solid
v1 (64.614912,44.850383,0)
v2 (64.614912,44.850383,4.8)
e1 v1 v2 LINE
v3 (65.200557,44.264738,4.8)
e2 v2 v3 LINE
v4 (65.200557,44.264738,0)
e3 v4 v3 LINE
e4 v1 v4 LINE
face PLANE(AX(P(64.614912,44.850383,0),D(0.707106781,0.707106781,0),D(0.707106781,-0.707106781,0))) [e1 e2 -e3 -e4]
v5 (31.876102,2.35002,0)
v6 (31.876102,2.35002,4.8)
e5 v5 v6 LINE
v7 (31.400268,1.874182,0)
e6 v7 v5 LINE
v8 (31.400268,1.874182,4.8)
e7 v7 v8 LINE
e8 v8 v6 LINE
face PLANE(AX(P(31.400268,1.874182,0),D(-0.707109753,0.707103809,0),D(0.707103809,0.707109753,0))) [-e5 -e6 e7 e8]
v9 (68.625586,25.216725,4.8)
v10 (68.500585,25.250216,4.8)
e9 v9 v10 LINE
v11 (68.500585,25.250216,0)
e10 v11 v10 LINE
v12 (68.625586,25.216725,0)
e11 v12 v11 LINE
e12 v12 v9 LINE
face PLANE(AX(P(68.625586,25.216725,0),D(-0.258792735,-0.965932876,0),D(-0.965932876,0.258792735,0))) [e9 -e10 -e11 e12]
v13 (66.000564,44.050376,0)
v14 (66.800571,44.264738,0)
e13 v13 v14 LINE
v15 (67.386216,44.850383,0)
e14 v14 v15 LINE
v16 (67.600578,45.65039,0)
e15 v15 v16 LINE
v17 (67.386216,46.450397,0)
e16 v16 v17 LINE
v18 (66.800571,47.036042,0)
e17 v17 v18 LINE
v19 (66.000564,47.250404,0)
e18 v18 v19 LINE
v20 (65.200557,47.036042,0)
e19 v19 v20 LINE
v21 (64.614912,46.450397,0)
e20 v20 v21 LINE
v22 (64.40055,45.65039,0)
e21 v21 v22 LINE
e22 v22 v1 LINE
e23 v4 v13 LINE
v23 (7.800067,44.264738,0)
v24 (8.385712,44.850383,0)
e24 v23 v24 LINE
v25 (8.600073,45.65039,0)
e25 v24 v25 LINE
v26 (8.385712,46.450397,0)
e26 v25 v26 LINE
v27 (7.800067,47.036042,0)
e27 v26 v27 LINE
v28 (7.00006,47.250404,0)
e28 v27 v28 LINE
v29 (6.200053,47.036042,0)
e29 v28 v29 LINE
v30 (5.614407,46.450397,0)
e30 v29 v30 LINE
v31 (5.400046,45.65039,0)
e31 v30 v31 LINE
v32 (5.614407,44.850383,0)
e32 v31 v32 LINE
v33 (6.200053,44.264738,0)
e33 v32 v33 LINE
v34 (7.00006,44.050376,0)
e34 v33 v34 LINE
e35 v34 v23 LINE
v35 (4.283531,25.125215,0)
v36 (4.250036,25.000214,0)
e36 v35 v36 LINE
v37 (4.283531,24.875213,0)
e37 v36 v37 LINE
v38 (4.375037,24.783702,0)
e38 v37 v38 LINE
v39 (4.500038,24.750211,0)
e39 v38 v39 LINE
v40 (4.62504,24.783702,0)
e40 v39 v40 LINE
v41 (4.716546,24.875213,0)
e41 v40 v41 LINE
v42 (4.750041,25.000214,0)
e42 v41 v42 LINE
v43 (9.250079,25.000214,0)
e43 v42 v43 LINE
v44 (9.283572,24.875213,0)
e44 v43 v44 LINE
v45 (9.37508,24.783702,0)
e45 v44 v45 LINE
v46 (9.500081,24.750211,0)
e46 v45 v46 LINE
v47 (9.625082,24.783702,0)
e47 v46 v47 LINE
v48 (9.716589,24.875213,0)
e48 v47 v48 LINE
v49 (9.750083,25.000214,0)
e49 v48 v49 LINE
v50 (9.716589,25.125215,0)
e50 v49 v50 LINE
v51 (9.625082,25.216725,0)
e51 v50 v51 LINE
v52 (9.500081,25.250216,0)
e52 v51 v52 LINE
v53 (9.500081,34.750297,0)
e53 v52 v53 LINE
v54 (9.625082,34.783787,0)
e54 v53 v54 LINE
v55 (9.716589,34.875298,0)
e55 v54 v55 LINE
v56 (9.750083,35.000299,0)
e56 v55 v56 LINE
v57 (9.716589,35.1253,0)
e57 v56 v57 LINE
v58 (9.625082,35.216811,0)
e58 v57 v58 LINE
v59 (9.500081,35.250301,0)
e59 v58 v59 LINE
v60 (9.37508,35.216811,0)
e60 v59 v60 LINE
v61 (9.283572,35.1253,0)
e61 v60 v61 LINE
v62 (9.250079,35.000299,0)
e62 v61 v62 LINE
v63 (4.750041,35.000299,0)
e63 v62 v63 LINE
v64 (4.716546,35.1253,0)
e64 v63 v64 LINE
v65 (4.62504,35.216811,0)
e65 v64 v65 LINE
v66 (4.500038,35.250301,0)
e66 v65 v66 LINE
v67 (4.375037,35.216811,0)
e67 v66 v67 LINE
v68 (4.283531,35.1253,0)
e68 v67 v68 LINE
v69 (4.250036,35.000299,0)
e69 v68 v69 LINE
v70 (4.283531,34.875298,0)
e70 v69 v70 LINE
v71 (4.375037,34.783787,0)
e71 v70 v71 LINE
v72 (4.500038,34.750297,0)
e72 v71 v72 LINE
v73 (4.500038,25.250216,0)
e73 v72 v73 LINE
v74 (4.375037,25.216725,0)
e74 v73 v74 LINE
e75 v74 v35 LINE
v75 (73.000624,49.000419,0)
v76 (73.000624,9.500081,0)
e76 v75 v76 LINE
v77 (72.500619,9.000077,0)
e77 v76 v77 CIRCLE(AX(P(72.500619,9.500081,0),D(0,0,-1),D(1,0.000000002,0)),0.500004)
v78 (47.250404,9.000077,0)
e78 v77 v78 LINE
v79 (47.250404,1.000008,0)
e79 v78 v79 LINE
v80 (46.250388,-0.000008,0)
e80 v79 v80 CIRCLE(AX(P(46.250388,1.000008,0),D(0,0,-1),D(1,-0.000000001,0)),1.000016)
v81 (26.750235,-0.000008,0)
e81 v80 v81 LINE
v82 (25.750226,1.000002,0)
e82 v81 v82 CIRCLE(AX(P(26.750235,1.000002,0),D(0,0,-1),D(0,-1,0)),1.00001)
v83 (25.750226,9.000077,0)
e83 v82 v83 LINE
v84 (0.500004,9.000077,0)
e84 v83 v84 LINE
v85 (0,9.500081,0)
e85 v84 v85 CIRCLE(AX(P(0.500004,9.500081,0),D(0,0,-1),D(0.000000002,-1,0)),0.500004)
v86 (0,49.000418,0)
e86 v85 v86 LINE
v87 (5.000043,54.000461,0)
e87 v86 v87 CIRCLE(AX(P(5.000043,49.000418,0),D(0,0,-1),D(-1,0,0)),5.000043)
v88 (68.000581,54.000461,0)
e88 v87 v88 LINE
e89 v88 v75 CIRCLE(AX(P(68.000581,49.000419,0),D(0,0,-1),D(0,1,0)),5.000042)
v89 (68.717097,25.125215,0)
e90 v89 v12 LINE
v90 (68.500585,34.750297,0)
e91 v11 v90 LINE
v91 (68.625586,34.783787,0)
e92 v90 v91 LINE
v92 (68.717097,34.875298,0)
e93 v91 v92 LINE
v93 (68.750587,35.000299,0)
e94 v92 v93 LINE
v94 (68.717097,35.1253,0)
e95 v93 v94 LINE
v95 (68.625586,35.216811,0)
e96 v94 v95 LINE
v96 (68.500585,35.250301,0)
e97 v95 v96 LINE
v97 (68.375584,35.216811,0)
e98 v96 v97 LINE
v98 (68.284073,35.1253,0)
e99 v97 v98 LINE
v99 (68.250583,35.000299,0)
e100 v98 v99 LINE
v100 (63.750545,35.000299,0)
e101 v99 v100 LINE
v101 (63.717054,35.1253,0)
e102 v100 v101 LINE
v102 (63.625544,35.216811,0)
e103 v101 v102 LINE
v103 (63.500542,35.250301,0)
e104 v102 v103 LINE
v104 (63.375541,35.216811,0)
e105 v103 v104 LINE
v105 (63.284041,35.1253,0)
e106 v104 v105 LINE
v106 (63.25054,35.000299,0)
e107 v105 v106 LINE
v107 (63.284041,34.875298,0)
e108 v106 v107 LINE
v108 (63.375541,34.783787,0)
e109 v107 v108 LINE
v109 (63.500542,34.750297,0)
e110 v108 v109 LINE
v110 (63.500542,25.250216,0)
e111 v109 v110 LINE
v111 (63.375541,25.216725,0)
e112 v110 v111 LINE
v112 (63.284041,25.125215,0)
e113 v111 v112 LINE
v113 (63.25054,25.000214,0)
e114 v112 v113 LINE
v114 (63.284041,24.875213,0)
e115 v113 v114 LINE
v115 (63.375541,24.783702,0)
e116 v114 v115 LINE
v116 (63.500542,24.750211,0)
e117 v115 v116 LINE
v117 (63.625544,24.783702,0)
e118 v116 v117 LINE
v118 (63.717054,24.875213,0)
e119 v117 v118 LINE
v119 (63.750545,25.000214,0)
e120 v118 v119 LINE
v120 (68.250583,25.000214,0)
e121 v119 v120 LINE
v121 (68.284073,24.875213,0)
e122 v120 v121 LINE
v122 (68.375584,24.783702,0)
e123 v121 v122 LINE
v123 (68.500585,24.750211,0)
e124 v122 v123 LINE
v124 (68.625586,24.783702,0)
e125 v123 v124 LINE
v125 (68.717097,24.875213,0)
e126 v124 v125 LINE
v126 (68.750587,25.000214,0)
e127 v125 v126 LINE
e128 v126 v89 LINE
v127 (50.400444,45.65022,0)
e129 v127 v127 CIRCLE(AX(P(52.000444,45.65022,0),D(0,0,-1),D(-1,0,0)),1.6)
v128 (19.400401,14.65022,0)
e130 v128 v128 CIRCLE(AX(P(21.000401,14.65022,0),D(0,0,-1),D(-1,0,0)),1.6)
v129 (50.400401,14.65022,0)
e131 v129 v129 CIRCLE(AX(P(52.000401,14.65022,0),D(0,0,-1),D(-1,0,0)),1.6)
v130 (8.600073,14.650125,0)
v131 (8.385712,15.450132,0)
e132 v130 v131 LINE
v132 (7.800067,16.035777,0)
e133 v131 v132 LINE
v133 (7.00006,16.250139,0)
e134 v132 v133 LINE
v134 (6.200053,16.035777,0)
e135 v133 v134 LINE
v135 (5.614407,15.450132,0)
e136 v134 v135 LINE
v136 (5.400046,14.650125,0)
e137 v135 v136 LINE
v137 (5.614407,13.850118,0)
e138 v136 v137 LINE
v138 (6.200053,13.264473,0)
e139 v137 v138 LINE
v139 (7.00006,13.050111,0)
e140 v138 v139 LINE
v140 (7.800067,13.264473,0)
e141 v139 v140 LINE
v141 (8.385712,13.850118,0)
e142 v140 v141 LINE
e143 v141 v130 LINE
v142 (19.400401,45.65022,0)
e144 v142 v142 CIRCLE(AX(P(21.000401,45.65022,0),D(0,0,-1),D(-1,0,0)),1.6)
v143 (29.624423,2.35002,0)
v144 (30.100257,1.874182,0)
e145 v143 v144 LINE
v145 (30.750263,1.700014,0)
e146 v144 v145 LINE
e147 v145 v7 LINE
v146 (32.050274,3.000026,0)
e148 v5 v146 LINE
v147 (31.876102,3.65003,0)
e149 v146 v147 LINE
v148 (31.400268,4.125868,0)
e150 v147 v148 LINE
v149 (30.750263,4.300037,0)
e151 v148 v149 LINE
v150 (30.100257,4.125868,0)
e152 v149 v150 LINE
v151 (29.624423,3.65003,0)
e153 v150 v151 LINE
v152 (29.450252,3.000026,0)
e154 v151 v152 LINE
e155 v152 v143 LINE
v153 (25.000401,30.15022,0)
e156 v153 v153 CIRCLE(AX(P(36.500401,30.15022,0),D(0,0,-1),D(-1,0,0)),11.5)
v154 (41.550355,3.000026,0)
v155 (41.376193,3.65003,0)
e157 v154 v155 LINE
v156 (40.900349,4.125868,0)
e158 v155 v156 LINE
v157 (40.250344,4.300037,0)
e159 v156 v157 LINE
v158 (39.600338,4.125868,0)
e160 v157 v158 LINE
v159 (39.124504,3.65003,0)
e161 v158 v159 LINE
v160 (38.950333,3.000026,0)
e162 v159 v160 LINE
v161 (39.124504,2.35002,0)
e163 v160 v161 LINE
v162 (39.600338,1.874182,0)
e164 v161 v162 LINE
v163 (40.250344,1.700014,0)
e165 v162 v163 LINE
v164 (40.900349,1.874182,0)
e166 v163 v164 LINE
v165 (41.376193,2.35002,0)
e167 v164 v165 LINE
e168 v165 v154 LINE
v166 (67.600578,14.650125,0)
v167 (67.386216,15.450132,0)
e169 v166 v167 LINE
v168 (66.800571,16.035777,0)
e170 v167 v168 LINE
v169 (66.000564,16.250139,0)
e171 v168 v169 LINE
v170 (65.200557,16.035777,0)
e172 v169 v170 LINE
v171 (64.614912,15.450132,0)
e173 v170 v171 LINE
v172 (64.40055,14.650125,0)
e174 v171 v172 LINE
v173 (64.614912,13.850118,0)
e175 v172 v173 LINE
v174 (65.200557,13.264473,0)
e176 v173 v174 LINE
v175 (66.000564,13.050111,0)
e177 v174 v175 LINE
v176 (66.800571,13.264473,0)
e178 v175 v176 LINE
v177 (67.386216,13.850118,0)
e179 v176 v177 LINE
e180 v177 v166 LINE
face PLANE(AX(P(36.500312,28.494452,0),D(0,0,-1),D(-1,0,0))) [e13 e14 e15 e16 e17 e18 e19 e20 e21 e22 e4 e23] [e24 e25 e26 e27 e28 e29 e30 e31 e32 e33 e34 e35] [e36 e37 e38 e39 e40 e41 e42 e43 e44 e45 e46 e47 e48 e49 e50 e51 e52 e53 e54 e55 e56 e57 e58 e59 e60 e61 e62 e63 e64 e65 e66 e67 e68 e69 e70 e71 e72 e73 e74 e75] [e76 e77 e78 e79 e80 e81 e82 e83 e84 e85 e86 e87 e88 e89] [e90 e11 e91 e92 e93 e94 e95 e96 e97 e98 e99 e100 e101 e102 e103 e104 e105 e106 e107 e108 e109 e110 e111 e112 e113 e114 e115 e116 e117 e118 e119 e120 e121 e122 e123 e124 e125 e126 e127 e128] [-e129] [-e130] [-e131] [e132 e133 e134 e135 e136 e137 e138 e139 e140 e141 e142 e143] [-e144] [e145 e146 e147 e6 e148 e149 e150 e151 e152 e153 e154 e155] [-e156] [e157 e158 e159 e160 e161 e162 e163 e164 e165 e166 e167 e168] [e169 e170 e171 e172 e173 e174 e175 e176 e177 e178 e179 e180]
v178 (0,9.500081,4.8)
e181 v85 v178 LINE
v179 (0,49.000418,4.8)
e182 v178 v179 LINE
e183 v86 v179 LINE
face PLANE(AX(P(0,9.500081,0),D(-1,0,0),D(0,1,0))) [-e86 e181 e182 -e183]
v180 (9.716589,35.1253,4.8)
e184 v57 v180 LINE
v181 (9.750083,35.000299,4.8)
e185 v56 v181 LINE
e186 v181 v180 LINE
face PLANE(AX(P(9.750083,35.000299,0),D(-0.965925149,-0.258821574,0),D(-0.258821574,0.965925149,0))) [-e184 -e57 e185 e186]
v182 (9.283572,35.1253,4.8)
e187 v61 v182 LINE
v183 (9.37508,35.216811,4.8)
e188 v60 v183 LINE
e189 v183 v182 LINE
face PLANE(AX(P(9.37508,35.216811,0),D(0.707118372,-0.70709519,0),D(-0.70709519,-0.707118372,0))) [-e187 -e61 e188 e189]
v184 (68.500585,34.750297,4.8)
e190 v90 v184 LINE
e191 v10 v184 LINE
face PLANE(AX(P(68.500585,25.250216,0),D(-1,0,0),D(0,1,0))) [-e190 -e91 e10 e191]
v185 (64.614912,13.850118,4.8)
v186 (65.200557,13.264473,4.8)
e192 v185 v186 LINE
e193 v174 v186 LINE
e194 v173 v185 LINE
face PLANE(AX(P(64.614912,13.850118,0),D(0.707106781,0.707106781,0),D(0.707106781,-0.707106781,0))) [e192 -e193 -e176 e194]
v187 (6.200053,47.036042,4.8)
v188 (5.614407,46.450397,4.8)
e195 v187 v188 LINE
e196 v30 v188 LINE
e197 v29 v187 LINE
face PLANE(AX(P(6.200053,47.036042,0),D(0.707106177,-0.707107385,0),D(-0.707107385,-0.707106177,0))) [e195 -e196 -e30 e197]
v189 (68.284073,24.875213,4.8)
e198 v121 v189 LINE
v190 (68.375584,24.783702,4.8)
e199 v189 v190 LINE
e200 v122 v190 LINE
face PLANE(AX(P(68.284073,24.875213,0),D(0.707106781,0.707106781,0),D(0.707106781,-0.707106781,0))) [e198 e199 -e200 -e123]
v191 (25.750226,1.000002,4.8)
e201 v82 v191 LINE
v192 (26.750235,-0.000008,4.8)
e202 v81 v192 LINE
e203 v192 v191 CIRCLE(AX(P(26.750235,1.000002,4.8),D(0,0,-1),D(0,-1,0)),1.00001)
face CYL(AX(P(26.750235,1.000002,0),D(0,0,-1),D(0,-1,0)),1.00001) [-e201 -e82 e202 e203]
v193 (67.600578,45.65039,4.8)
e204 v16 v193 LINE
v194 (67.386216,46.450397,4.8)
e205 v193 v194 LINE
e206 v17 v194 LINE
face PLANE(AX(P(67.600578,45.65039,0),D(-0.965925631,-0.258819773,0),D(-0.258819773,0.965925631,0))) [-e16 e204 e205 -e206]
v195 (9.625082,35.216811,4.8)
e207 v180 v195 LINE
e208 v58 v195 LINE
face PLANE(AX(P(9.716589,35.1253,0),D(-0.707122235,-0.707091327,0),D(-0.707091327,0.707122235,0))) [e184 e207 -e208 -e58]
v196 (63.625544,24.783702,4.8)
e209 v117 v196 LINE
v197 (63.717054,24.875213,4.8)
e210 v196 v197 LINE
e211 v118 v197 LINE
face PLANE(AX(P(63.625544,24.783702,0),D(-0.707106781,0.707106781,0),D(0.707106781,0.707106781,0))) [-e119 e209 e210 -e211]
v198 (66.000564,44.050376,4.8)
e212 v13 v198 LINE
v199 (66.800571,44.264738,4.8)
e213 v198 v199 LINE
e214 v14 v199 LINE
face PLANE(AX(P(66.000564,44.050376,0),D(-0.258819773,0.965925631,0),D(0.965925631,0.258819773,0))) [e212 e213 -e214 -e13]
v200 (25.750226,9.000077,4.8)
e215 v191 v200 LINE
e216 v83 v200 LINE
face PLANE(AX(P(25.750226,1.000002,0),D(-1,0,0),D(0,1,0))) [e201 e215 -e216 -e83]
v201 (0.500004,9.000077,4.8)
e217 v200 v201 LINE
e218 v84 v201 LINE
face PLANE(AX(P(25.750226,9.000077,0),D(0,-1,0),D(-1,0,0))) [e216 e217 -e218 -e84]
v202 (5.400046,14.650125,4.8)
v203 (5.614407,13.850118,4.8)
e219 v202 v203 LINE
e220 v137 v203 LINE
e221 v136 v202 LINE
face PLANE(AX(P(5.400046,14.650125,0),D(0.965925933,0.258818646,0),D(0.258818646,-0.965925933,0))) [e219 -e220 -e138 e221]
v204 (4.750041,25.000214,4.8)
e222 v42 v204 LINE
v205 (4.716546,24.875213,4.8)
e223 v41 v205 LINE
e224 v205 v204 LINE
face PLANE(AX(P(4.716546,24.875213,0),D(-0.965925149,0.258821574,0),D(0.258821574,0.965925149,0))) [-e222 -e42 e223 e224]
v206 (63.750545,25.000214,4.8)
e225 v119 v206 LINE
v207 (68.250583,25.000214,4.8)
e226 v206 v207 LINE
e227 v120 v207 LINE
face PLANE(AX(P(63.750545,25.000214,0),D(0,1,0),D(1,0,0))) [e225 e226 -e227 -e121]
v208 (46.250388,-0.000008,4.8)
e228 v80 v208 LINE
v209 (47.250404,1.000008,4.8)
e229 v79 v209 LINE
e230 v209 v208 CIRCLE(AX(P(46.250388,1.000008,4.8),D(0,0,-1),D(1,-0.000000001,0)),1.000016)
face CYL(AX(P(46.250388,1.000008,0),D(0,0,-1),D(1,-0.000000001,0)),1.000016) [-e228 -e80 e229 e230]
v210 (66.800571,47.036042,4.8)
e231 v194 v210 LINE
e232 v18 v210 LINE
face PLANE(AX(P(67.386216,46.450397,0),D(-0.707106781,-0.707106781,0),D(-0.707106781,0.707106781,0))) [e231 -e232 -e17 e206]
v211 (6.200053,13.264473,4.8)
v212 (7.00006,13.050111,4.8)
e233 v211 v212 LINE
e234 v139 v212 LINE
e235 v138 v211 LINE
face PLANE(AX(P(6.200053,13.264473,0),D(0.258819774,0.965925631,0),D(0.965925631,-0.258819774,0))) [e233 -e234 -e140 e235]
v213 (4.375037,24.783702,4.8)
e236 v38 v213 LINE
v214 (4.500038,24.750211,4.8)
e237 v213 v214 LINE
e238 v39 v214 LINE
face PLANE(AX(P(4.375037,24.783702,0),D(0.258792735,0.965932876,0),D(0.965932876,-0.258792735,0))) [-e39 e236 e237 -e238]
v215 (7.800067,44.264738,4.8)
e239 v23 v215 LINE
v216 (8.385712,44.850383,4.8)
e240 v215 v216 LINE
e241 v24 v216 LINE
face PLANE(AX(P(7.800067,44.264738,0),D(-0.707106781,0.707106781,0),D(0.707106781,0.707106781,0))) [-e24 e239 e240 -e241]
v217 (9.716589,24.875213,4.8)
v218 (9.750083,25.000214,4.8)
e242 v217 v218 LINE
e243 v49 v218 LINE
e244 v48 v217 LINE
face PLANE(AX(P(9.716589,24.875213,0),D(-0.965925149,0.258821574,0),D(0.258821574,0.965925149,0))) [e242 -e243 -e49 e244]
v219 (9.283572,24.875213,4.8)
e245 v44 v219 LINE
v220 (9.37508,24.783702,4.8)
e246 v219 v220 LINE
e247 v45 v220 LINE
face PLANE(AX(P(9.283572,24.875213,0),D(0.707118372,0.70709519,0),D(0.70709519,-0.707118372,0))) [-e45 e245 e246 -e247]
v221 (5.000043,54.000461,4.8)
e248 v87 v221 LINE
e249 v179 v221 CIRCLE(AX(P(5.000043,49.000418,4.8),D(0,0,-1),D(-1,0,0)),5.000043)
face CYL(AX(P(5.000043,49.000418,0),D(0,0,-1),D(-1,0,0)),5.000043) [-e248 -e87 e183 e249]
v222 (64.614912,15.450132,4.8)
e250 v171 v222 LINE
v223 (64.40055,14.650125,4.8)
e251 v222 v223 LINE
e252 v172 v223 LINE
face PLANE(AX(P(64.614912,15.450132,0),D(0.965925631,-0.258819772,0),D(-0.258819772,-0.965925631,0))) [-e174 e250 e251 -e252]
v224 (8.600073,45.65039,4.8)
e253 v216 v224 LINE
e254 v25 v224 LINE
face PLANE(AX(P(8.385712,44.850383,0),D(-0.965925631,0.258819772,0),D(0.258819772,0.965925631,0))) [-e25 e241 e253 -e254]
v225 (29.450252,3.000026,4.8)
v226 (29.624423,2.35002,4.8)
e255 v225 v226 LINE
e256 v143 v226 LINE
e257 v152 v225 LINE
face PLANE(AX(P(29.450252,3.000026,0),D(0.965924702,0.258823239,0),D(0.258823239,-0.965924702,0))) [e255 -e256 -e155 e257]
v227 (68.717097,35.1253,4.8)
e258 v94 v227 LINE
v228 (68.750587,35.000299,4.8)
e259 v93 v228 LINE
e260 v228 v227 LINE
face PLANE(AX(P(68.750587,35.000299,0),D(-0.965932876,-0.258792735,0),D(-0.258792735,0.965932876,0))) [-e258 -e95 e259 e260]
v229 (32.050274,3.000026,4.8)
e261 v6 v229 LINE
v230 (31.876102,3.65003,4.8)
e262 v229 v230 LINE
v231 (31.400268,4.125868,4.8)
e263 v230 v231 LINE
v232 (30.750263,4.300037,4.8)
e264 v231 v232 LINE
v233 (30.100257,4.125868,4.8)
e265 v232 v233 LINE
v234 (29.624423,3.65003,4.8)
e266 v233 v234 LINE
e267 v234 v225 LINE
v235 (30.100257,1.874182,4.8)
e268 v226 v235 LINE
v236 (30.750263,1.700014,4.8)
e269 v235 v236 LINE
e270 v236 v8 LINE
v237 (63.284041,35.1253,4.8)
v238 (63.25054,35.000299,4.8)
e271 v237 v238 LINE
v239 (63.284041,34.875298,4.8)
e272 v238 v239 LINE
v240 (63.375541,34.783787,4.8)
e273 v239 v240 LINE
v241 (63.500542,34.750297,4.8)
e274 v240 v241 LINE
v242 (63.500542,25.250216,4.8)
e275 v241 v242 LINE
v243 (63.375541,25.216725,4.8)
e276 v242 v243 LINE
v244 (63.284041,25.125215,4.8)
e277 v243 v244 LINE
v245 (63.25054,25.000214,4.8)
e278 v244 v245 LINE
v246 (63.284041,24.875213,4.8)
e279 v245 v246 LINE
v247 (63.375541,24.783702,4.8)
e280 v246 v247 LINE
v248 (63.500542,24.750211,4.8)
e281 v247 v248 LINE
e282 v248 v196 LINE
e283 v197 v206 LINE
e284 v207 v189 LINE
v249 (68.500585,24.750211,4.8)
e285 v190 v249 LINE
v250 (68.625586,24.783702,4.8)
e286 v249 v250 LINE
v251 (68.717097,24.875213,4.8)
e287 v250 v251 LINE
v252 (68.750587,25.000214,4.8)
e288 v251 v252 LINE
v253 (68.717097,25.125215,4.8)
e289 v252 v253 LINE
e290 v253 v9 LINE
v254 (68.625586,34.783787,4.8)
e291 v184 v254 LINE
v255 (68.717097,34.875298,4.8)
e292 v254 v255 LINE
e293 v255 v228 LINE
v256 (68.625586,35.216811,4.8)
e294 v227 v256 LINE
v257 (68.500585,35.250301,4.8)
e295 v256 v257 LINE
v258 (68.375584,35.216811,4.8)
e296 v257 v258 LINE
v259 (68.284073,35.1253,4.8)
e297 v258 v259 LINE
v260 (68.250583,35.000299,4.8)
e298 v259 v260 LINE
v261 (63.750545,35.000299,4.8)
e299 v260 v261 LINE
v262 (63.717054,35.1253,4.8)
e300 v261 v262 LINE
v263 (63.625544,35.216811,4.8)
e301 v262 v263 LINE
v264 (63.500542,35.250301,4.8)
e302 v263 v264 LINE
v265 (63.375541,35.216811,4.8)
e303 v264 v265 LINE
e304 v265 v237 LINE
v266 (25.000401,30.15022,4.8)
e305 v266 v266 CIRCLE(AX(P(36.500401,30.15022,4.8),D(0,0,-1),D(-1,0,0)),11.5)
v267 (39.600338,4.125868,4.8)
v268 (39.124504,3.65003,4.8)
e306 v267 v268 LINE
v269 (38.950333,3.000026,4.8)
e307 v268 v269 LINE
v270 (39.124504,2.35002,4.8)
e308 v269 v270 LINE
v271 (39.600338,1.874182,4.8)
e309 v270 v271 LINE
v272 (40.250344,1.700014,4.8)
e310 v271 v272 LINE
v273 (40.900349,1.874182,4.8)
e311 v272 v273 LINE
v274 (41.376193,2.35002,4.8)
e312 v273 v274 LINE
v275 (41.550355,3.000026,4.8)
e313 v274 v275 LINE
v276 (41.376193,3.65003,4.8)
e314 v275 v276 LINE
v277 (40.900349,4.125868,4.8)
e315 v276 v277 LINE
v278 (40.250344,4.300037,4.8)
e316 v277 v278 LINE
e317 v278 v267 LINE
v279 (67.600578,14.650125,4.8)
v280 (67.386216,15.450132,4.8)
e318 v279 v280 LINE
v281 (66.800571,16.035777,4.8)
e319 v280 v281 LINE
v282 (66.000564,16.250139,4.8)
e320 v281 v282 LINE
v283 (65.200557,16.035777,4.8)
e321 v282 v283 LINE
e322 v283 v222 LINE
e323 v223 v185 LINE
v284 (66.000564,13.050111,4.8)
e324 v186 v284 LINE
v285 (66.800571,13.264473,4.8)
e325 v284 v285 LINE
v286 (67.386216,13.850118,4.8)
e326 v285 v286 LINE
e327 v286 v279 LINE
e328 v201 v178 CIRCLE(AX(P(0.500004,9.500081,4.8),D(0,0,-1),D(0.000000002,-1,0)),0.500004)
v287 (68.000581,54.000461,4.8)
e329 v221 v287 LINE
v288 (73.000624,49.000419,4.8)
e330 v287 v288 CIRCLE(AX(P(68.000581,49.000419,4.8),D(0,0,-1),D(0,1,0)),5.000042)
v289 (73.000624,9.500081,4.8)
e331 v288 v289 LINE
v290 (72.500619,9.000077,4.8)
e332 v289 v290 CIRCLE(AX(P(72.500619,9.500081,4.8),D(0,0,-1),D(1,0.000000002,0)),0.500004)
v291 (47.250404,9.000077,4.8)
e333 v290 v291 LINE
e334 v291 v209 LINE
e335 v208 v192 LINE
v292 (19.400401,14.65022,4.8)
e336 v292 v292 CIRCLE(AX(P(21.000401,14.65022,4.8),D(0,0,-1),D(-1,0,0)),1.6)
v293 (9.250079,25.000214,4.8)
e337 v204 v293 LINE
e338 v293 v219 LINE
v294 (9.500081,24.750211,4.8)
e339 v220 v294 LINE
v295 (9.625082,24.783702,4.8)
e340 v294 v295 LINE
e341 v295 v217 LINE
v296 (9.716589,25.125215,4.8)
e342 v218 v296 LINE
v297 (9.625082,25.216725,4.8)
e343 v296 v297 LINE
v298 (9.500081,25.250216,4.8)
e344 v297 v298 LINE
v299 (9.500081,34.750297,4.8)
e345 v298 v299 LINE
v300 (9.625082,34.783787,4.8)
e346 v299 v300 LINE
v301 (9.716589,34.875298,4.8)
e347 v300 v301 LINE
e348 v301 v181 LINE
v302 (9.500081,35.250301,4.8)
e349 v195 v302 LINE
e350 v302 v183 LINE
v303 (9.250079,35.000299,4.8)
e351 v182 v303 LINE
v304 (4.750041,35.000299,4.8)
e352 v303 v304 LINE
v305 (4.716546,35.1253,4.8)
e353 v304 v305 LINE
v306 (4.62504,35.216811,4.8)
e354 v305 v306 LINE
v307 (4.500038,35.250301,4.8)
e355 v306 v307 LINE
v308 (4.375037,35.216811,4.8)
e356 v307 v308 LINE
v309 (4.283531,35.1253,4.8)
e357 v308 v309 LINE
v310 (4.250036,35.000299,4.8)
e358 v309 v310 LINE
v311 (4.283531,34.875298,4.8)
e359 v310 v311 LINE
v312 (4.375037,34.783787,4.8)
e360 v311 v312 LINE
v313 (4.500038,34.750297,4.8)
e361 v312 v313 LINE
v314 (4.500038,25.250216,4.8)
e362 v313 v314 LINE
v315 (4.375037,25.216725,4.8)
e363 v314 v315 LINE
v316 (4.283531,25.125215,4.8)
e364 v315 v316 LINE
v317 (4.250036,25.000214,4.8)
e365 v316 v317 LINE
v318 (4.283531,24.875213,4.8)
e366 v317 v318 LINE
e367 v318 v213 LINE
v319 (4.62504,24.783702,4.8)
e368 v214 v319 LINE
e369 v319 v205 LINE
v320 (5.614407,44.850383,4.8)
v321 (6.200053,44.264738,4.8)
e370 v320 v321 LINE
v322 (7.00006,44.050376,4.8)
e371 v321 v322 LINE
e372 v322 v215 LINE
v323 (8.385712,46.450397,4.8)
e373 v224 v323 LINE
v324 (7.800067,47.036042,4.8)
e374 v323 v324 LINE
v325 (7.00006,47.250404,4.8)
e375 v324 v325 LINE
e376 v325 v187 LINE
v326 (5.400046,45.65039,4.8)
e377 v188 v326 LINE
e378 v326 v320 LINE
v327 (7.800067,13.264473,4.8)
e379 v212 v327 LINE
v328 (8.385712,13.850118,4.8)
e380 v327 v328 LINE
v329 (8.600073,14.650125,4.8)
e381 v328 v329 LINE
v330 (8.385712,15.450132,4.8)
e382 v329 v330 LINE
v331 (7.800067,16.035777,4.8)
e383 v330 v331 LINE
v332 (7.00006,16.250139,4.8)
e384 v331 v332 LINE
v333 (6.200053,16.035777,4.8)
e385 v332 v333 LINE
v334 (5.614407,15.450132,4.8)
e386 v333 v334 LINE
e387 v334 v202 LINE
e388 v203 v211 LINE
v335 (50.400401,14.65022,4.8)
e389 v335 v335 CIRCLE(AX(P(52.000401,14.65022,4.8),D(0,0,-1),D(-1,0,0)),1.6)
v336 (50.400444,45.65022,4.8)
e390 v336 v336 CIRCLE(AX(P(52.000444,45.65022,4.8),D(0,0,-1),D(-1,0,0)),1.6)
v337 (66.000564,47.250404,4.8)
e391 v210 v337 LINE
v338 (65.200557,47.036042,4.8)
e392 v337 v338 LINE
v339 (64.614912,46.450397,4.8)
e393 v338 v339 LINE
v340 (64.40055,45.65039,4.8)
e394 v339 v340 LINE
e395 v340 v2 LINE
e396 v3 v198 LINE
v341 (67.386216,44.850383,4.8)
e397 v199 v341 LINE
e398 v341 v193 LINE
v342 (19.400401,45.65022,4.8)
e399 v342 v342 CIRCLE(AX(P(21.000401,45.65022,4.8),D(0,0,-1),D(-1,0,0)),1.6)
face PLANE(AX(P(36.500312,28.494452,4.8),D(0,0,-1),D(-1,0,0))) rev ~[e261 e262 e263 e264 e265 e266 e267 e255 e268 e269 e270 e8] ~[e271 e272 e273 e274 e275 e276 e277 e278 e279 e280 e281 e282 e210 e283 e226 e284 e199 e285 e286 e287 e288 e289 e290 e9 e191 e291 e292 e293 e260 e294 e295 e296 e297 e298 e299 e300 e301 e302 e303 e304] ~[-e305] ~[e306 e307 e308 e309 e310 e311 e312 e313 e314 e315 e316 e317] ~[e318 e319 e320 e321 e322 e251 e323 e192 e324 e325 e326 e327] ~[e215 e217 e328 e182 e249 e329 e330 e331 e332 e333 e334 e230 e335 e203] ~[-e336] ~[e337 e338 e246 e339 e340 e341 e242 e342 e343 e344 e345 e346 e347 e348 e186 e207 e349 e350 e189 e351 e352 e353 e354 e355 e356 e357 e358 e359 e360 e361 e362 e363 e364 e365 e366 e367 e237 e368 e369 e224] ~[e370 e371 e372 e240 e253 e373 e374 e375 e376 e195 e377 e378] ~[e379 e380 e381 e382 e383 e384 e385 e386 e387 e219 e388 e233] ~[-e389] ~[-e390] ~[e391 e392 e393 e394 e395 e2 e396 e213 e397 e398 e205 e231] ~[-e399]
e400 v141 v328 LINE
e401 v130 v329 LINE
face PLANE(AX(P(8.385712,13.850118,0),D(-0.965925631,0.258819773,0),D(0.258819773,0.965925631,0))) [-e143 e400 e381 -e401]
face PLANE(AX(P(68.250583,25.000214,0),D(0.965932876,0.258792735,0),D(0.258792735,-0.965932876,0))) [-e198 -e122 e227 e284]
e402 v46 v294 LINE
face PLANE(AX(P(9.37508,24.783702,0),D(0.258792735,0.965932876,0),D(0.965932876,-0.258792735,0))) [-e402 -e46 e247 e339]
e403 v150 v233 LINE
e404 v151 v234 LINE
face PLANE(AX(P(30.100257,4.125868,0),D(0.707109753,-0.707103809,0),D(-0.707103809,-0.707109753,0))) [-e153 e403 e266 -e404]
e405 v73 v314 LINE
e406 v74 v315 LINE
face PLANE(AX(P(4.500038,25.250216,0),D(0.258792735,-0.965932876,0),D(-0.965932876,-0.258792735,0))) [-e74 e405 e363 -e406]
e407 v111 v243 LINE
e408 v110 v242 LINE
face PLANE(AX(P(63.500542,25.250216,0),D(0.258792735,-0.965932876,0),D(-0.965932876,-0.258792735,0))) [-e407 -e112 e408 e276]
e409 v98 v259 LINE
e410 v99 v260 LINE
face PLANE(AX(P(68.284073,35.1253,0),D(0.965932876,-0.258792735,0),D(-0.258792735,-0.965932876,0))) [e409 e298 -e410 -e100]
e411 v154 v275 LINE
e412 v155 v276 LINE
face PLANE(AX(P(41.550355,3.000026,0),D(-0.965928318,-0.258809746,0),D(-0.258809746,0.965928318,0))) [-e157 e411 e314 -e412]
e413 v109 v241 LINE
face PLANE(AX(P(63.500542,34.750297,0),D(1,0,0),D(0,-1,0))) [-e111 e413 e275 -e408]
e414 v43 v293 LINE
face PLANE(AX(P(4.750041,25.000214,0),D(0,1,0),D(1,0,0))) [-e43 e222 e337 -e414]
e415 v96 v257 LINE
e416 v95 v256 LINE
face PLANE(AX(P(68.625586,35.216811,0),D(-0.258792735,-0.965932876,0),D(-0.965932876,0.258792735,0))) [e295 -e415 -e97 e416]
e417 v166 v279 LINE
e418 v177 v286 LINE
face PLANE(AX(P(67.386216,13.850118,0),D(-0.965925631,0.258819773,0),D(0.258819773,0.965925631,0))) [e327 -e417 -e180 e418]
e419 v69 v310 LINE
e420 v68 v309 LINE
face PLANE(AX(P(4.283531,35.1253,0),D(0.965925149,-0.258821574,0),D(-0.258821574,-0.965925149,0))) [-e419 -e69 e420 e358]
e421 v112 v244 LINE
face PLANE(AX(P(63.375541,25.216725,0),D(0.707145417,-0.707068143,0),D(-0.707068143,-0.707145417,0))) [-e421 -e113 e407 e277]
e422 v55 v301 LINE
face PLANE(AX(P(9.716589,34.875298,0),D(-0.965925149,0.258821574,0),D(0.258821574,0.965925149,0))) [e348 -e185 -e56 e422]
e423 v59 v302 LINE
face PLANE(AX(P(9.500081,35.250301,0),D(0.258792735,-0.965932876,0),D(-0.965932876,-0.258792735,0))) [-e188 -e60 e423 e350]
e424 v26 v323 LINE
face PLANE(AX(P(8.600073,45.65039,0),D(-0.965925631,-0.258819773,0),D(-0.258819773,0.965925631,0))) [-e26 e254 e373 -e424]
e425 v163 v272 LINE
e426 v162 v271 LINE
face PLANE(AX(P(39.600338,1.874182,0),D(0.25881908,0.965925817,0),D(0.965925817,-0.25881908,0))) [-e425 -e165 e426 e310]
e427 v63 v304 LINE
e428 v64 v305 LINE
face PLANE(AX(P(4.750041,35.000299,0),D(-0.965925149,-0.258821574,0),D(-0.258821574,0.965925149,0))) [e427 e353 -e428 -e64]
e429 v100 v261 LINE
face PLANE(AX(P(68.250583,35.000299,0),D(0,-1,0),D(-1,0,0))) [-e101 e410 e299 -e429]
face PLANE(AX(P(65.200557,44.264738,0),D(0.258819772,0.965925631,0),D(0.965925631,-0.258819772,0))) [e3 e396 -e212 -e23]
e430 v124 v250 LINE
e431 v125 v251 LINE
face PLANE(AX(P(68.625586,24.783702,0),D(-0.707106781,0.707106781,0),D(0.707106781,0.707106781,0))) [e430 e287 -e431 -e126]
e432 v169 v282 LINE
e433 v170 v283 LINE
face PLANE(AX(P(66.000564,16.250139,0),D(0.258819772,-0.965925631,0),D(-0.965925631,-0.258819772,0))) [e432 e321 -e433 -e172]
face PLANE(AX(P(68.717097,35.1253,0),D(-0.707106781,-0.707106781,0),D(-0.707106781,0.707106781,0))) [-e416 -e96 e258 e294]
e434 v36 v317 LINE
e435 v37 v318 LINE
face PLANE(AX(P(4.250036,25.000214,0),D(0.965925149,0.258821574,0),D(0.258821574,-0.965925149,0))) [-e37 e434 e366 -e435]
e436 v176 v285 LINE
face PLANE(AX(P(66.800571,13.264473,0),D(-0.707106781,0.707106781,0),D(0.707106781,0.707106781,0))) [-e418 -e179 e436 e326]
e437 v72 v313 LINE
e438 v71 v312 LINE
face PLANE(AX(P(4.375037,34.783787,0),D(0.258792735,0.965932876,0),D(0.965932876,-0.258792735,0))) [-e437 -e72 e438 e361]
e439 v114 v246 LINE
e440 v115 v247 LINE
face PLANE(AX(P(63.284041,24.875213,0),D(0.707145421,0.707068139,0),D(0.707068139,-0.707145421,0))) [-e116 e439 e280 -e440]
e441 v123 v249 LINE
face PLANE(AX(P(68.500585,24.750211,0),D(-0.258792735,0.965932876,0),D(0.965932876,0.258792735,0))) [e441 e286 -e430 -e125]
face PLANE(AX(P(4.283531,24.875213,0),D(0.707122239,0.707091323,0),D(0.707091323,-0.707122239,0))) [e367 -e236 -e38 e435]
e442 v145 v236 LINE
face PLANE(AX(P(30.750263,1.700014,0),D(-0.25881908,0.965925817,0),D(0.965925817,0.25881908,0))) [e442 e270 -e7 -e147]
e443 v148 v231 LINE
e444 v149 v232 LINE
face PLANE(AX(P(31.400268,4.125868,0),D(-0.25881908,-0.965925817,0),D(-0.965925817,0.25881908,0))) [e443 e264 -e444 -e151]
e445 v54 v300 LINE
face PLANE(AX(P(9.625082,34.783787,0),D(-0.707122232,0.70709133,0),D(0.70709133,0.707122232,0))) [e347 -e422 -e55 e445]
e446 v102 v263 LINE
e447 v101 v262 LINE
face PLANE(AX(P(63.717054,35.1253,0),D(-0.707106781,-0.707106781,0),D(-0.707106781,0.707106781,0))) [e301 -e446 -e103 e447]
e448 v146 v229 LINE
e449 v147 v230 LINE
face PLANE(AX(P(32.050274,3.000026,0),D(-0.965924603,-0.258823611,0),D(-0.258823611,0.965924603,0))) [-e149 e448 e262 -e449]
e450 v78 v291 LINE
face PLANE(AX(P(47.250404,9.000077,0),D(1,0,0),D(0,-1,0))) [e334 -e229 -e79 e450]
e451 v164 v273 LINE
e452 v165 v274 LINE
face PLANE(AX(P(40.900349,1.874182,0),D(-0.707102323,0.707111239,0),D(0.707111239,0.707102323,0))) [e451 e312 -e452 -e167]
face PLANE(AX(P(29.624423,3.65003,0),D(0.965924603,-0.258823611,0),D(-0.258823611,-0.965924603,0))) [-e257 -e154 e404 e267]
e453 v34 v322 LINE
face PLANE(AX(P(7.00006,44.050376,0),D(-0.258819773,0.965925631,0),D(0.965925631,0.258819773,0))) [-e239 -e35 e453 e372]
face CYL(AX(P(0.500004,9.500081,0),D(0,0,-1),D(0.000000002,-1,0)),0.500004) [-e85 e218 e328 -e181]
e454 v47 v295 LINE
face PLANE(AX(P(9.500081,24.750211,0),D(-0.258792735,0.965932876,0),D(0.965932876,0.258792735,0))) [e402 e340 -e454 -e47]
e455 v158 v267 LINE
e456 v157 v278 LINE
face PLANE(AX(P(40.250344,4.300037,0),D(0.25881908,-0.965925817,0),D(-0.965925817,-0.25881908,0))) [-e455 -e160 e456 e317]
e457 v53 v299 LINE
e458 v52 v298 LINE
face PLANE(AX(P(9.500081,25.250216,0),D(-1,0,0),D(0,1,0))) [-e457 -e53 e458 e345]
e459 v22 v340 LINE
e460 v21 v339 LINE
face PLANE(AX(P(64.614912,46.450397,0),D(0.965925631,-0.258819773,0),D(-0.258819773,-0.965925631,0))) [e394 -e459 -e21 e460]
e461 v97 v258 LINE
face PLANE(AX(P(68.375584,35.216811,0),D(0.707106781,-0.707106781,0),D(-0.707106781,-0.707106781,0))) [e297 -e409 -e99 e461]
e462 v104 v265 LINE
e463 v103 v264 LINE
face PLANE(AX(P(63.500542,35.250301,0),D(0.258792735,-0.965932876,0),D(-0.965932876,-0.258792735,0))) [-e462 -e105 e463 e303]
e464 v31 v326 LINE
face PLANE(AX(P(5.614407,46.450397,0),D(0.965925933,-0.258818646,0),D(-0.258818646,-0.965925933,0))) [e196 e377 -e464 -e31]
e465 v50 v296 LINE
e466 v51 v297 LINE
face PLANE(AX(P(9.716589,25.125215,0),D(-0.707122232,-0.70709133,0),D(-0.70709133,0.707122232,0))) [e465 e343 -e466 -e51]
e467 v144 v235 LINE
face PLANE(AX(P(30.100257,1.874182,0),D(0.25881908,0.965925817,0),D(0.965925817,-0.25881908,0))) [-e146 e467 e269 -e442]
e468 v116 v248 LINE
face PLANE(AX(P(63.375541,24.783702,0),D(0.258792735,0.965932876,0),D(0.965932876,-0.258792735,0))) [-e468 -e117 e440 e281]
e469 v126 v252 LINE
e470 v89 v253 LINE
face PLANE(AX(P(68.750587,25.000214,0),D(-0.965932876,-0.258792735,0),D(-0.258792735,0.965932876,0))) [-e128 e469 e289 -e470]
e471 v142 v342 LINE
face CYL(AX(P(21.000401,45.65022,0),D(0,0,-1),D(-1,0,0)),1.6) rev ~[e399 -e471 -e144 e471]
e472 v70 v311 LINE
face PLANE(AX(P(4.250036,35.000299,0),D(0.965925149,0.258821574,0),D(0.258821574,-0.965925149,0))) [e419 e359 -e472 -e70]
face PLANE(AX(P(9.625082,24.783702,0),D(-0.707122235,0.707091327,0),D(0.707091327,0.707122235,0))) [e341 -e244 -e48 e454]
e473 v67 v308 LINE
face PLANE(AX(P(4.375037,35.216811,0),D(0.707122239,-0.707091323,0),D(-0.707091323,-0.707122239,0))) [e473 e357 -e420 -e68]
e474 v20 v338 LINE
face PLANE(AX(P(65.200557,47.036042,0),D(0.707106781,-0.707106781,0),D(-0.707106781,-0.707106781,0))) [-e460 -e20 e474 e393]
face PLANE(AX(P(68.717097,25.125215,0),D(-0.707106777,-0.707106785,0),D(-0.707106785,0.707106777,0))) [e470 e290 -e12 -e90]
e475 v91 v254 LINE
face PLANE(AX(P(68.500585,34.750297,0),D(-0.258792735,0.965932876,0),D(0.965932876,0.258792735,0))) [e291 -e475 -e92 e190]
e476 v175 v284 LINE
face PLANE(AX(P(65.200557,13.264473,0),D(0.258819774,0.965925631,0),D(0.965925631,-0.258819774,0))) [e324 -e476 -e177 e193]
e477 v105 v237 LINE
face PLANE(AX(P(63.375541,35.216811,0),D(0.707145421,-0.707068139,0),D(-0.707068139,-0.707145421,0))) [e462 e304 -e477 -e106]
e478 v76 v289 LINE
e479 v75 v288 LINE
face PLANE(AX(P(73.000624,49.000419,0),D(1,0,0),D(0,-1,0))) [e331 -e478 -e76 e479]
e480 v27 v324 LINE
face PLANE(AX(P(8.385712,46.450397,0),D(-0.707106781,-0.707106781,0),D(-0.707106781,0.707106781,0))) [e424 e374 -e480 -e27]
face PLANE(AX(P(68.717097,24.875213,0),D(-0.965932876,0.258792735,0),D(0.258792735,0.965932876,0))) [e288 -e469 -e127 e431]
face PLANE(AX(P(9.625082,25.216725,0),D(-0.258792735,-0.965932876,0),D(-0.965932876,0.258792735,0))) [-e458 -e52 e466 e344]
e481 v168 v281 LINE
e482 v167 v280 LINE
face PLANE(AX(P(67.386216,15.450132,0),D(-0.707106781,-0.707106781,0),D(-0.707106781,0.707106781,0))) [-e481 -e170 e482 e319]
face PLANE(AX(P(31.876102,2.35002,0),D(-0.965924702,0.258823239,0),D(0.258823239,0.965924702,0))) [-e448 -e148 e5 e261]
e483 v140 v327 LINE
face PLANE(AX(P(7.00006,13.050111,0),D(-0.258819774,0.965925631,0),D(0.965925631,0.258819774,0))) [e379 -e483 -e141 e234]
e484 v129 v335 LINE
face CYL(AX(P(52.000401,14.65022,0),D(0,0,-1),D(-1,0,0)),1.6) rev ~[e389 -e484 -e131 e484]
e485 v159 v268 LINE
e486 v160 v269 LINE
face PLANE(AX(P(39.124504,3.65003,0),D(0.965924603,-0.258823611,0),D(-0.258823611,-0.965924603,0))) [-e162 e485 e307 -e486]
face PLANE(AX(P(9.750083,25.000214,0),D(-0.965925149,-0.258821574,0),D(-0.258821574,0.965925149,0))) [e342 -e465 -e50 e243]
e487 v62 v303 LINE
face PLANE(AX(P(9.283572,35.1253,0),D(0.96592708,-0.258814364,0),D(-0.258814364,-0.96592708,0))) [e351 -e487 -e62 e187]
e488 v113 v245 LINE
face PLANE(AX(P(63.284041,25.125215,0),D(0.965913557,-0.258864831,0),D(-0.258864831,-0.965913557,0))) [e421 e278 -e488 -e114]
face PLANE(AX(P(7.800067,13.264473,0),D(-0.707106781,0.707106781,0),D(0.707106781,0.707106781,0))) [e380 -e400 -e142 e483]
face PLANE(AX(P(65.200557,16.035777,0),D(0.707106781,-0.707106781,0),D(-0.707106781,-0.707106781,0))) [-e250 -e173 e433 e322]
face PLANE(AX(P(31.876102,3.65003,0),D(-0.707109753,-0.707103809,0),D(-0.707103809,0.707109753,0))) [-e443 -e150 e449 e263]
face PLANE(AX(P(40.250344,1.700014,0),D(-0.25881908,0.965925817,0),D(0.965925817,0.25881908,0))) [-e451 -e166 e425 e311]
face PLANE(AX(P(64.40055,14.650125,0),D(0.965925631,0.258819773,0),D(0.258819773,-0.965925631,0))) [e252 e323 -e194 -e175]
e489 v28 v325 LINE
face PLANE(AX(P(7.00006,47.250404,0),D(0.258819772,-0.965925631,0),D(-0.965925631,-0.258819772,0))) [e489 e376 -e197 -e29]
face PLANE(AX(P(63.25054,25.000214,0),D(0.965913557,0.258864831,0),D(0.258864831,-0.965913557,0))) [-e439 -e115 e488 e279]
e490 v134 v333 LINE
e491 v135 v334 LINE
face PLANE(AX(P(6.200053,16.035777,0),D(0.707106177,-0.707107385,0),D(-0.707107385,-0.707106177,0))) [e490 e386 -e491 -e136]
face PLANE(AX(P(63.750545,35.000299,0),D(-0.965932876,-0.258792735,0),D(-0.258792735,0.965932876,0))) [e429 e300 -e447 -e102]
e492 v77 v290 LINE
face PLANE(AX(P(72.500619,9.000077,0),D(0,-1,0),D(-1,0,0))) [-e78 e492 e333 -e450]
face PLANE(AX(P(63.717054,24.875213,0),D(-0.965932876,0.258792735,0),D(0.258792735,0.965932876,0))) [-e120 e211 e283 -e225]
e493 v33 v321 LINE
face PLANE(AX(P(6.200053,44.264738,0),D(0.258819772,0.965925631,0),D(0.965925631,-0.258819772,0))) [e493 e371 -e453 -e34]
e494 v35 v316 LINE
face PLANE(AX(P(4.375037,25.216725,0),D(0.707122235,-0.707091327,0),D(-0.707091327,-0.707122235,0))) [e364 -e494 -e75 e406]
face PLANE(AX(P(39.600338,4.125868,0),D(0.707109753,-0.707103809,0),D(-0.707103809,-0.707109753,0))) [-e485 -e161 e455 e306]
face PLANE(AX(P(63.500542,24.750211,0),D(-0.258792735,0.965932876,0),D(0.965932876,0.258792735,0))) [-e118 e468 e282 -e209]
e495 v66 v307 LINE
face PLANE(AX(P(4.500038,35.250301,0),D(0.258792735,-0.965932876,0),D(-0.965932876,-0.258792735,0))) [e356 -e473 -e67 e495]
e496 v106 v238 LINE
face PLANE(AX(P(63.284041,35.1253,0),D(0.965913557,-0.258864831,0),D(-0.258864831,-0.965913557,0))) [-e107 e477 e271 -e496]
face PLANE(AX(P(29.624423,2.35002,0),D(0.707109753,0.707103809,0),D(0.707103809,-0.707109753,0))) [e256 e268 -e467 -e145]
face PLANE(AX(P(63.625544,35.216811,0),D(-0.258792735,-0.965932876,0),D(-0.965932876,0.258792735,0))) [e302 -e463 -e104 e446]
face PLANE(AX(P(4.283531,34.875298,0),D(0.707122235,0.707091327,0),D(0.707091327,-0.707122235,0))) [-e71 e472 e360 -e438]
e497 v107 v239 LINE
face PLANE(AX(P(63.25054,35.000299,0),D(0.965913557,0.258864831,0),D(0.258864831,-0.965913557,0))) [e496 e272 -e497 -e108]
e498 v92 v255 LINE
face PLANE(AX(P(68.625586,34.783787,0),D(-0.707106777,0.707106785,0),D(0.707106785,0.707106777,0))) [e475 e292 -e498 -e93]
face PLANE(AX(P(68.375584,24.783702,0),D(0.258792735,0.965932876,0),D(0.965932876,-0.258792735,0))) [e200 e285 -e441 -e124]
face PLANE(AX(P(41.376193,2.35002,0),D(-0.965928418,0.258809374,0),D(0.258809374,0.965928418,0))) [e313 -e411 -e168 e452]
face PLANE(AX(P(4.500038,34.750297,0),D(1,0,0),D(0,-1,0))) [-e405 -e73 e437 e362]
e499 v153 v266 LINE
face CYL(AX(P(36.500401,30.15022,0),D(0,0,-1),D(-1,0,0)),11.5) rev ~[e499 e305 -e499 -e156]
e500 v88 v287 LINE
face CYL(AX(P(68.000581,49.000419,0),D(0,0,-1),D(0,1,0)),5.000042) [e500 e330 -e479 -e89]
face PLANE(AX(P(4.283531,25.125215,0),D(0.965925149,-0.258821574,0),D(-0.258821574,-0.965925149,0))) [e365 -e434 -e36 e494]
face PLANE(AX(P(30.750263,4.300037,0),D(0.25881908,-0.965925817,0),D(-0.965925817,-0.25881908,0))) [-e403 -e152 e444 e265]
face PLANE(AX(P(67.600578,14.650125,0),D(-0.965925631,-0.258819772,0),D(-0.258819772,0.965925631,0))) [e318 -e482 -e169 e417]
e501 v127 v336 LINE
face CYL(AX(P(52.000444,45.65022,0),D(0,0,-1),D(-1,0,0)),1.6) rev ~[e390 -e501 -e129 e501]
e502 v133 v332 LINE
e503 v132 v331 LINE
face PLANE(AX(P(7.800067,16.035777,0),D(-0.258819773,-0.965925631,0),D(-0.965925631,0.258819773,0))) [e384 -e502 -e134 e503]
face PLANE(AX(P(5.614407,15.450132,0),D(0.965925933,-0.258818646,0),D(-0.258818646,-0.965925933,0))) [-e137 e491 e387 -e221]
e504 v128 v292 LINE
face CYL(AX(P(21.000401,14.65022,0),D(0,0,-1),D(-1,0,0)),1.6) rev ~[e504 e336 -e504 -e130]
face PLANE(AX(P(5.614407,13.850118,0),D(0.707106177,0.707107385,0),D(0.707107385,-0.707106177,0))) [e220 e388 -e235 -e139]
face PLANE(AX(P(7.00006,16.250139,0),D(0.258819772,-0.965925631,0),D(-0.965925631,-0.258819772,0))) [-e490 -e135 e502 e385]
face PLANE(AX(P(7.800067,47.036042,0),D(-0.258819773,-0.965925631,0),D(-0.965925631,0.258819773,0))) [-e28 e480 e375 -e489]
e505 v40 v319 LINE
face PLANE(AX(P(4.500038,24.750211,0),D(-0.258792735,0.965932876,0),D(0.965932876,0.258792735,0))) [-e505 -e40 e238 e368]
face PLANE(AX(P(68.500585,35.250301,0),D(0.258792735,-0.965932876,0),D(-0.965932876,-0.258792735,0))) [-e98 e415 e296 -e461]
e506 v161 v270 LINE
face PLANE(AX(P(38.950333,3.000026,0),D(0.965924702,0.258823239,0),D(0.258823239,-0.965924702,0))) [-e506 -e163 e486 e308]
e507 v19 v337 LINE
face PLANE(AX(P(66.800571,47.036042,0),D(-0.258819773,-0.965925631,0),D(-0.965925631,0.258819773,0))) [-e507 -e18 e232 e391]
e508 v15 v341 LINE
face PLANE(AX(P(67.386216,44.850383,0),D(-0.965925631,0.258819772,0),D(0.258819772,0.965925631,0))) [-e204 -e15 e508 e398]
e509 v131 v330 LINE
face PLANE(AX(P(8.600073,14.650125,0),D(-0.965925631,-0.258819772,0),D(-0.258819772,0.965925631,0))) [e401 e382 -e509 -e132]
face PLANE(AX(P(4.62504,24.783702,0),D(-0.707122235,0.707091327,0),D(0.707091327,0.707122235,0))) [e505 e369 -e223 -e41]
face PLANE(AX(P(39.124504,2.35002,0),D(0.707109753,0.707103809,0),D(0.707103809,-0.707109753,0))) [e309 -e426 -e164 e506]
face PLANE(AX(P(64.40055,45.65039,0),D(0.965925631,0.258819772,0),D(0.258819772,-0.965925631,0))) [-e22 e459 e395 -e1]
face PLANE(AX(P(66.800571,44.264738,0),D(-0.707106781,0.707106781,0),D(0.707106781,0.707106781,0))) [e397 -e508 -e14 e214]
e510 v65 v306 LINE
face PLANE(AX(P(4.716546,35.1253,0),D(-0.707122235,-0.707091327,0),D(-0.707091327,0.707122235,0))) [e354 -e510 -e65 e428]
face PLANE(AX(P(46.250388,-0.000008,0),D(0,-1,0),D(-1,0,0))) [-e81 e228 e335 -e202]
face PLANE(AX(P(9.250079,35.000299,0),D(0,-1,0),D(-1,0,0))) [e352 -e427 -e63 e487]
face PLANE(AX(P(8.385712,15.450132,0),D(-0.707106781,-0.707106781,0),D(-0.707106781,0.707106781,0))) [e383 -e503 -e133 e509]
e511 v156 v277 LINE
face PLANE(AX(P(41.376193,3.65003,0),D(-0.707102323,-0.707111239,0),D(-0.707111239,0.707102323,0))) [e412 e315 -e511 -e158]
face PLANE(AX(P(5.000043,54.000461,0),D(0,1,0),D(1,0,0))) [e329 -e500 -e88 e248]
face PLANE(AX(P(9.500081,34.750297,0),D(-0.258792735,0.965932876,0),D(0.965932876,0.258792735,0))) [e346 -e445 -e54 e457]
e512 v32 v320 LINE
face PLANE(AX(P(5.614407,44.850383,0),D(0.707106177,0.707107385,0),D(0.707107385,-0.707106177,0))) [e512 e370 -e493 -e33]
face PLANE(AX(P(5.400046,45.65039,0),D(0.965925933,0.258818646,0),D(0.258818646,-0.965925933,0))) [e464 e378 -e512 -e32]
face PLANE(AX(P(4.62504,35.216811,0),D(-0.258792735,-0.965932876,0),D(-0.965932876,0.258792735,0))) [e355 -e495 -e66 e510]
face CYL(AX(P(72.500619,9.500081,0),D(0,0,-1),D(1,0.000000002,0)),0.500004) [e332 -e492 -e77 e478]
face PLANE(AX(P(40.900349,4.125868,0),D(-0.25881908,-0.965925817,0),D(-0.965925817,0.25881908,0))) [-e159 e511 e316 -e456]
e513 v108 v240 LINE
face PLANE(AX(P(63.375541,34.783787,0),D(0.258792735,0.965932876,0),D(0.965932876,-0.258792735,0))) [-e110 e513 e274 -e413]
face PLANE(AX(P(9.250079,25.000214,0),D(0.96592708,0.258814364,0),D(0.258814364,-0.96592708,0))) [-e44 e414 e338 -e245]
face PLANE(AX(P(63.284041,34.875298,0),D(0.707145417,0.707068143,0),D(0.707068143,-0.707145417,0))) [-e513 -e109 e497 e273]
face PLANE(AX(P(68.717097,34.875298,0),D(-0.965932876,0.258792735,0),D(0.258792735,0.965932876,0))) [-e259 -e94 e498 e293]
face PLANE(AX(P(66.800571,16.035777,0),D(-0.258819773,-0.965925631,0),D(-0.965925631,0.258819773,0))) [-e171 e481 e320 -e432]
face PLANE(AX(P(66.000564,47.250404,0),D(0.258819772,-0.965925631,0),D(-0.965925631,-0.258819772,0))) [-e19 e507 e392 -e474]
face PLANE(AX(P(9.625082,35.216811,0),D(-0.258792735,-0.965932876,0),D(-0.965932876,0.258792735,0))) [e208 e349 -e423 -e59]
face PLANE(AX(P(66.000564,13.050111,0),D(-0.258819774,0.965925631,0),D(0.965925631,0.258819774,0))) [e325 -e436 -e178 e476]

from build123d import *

# Parameters (mm, degrees)
ESQUISSE1_R        = 11.5
ESQUISSE1_R_2      = 1.6
BOSS_EXTRU_1_DEPTH = 4.8


with BuildPart() as part:
    # Esquisse1 → Boss.-Extru.1 (new body)
    with BuildSketch(Plane(origin=(0, 0, 0), x_dir=(-1, 0, 0), z_dir=(0, 0, -1))):
        with BuildLine():
            Line((0, 9.500081158), (0, 49.000418249))
            ThreePointArc((0, 49.000418249), (-1.464478579, 52.535982296), (-5.000042626, 54.000460875))
            Line((-5.000042626, 54.000460875), (-68.000581364, 54.000460875))
            ThreePointArc((-68.000581364, 54.000460875), (-71.53614516, 52.535982401), (-73.000623635, 49.000418605))
            Line((-73.000623635, 49.000418605), (-73.000623635, 9.500081158))
            ThreePointArc((-73.000623635, 9.500081158), (-72.854175775, 9.146524747), (-72.500619364, 9.000076887))
            Line((-72.500619364, 9.000076887), (-47.250403654, 9.000076887))
            Line((-47.250403654, 9.000076887), (-47.250403654, 1.000007743))
            ThreePointArc((-47.250403654, 1.000007743), (-46.95750587, 0.292889941), (-46.250388068, -7.843e-06))
            Line((-46.250388068, -7.843e-06), (-26.75023547, -7.843e-06))
            ThreePointArc((-26.75023547, -7.843e-06), (-26.043121781, 0.292888237), (-25.750225701, 1.000001925))
            Line((-25.750225701, 1.000001925), (-25.750225701, 9.000076887))
            Line((-25.750225701, 9.000076887), (-0.500004271, 9.000076887))
            ThreePointArc((-0.500004271, 9.000076887), (-0.14644786, 9.146524747), (0, 9.500081158))
        make_face()
        with Locations((-36.5004012, 30.150219609)):
            Circle(ESQUISSE1_R, mode=Mode.SUBTRACT)
        with Locations((-52.0004012, 14.650219609)):
            Circle(ESQUISSE1_R_2, mode=Mode.SUBTRACT)
        with Locations((-52.000444233, 45.650219609)):
            Circle(ESQUISSE1_R_2, mode=Mode.SUBTRACT)
        with Locations((-21.0004012, 14.650219609)):
            Circle(ESQUISSE1_R_2, mode=Mode.SUBTRACT)
        with Locations((-21.0004012, 45.650219609)):
            Circle(ESQUISSE1_R_2, mode=Mode.SUBTRACT)
        Polygon((-6.200052966, 47.036041823), (-5.614406963, 46.45039682), (-5.400046132, 45.650389986), (-5.614406963, 44.850383151), (-6.200052966, 44.264738148), (-7.000059801, 44.050376317), (-7.800066635, 44.264738148), (-8.385711638, 44.850383151), (-8.600073469, 45.650389986), (-8.385711638, 46.45039682), (-7.800066635, 47.036041823), (-7.000059801, 47.250403654), align=None, mode=Mode.SUBTRACT)
        Polygon((-4.750040579, 35.000299003), (-4.716546293, 35.125300071), (-4.625039511, 35.216810853), (-4.500038443, 35.250301139), (-4.375037375, 35.216810853), (-4.283530594, 35.125300071), (-4.250036308, 35.000299003), (-4.283530594, 34.875297935), (-4.375037375, 34.783787154), (-4.500038443, 34.750296868), (-4.500038443, 25.250215709), (-4.375037375, 25.216725423), (-4.283530594, 25.125214642), (-4.250036308, 25.000213574), (-4.283530594, 24.875212506), (-4.375037375, 24.783701724), (-4.500038443, 24.750211438), (-4.625039511, 24.783701724), (-4.716546293, 24.875212506), (-4.750040579, 25.000213574), (-9.250079022, 25.000213574), (-9.283572308, 24.875212506), (-9.37508009, 24.783701724), (-9.500081158, 24.750211438), (-9.625082226, 24.783701724), (-9.716589008, 24.875212506), (-9.750083294, 25.000213574), (-9.716589008, 25.125214642), (-9.625082226, 25.216725423), (-9.500081158, 25.250215709), (-9.500081158, 34.750296868), (-9.625082226, 34.783787154), (-9.716589008, 34.875297935), (-9.750083294, 35.000299003), (-9.716589008, 35.125300071), (-9.625082226, 35.216810853), (-9.500081158, 35.250301139), (-9.37508009, 35.216810853), (-9.283572308, 35.125300071), (-9.250079022, 35.000299003), align=None, mode=Mode.SUBTRACT)
        Polygon((-5.614406963, 15.450131989), (-5.400046132, 14.650125154), (-5.614406963, 13.85011832), (-6.200052966, 13.264473317), (-7.000059801, 13.050111485), (-7.800066635, 13.264473317), (-8.385711638, 13.85011832), (-8.600073469, 14.650125154), (-8.385711638, 15.450131989), (-7.800066635, 16.035776992), (-7.000059801, 16.250138823), (-6.200052966, 16.035776992), align=None, mode=Mode.SUBTRACT)
        Polygon((-30.100257143, 1.874182011), (-30.750262696, 1.700013523), (-31.400268249, 1.874182011), (-31.876102314, 2.350020076), (-32.050273802, 3.000025629), (-31.876102314, 3.650030182), (-31.400268249, 4.125868247), (-30.750262696, 4.300036735), (-30.100257143, 4.125868247), (-29.624423078, 3.650030182), (-29.45025159, 3.000025629), (-29.624423078, 2.350020076), align=None, mode=Mode.SUBTRACT)
        Polygon((-39.600338301, 1.874182011), (-40.250343854, 1.700013523), (-40.900349407, 1.874182011), (-41.376193472, 2.350020076), (-41.55035496, 3.000025629), (-41.376193472, 3.650030182), (-40.900349407, 4.125868247), (-40.250343854, 4.300036735), (-39.600338301, 4.125868247), (-39.124504236, 3.650030182), (-38.950332748, 3.000025629), (-39.124504236, 2.350020076), align=None, mode=Mode.SUBTRACT)
        Polygon((-64.400550166, 14.650125154), (-64.614911997, 13.85011832), (-65.200557, 13.264473317), (-66.000563835, 13.050111485), (-66.800570669, 13.264473317), (-67.386215672, 13.85011832), (-67.600577503, 14.650125154), (-67.386215672, 15.450131989), (-66.800570669, 16.035776992), (-66.000563835, 16.250138823), (-65.200557, 16.035776992), (-64.614911997, 15.450131989), align=None, mode=Mode.SUBTRACT)
        Polygon((-63.625543545, 24.783701724), (-63.717054327, 24.875212506), (-63.750544613, 25.000213574), (-68.250583056, 25.000213574), (-68.284073342, 24.875212506), (-68.375584124, 24.783701724), (-68.500585192, 24.750211438), (-68.62558626, 24.783701724), (-68.717097042, 24.875212506), (-68.750587328, 25.000213574), (-68.717097042, 25.125214642), (-68.62558626, 25.216725423), (-68.500585192, 25.250215709), (-68.500585192, 34.750296868), (-68.62558626, 34.783787154), (-68.717097042, 34.875297935), (-68.750587328, 35.000299003), (-68.717097042, 35.125300071), (-68.62558626, 35.216810853), (-68.500585192, 35.250301139), (-68.375584124, 35.216810853), (-68.284073342, 35.125300071), (-68.250583056, 35.000299003), (-63.750544613, 35.000299003), (-63.717054327, 35.125300071), (-63.625543545, 35.216810853), (-63.500542477, 35.250301139), (-63.375541409, 35.216810853), (-63.284040628, 35.125300071), (-63.250540342, 35.000299003), (-63.284040628, 34.875297935), (-63.375541409, 34.783787154), (-63.500542477, 34.750296868), (-63.500542477, 25.250215709), (-63.375541409, 25.216725423), (-63.284040628, 25.125214642), (-63.250540342, 25.000213574), (-63.284040628, 24.875212506), (-63.375541409, 24.783701724), (-63.500542477, 24.750211438), align=None, mode=Mode.SUBTRACT)
        Polygon((-66.800570669, 47.036041823), (-66.000563835, 47.250403654), (-65.200557, 47.036041823), (-64.614911997, 46.45039682), (-64.400550166, 45.650389986), (-64.614911997, 44.850383151), (-65.200557, 44.264738148), (-66.000563835, 44.050376317), (-66.800570669, 44.264738148), (-67.386215672, 44.850383151), (-67.600577503, 45.650389986), (-67.386215672, 46.45039682), align=None, mode=Mode.SUBTRACT)
    extrude(amount=-BOSS_EXTRU_1_DEPTH)


solid = part.part
